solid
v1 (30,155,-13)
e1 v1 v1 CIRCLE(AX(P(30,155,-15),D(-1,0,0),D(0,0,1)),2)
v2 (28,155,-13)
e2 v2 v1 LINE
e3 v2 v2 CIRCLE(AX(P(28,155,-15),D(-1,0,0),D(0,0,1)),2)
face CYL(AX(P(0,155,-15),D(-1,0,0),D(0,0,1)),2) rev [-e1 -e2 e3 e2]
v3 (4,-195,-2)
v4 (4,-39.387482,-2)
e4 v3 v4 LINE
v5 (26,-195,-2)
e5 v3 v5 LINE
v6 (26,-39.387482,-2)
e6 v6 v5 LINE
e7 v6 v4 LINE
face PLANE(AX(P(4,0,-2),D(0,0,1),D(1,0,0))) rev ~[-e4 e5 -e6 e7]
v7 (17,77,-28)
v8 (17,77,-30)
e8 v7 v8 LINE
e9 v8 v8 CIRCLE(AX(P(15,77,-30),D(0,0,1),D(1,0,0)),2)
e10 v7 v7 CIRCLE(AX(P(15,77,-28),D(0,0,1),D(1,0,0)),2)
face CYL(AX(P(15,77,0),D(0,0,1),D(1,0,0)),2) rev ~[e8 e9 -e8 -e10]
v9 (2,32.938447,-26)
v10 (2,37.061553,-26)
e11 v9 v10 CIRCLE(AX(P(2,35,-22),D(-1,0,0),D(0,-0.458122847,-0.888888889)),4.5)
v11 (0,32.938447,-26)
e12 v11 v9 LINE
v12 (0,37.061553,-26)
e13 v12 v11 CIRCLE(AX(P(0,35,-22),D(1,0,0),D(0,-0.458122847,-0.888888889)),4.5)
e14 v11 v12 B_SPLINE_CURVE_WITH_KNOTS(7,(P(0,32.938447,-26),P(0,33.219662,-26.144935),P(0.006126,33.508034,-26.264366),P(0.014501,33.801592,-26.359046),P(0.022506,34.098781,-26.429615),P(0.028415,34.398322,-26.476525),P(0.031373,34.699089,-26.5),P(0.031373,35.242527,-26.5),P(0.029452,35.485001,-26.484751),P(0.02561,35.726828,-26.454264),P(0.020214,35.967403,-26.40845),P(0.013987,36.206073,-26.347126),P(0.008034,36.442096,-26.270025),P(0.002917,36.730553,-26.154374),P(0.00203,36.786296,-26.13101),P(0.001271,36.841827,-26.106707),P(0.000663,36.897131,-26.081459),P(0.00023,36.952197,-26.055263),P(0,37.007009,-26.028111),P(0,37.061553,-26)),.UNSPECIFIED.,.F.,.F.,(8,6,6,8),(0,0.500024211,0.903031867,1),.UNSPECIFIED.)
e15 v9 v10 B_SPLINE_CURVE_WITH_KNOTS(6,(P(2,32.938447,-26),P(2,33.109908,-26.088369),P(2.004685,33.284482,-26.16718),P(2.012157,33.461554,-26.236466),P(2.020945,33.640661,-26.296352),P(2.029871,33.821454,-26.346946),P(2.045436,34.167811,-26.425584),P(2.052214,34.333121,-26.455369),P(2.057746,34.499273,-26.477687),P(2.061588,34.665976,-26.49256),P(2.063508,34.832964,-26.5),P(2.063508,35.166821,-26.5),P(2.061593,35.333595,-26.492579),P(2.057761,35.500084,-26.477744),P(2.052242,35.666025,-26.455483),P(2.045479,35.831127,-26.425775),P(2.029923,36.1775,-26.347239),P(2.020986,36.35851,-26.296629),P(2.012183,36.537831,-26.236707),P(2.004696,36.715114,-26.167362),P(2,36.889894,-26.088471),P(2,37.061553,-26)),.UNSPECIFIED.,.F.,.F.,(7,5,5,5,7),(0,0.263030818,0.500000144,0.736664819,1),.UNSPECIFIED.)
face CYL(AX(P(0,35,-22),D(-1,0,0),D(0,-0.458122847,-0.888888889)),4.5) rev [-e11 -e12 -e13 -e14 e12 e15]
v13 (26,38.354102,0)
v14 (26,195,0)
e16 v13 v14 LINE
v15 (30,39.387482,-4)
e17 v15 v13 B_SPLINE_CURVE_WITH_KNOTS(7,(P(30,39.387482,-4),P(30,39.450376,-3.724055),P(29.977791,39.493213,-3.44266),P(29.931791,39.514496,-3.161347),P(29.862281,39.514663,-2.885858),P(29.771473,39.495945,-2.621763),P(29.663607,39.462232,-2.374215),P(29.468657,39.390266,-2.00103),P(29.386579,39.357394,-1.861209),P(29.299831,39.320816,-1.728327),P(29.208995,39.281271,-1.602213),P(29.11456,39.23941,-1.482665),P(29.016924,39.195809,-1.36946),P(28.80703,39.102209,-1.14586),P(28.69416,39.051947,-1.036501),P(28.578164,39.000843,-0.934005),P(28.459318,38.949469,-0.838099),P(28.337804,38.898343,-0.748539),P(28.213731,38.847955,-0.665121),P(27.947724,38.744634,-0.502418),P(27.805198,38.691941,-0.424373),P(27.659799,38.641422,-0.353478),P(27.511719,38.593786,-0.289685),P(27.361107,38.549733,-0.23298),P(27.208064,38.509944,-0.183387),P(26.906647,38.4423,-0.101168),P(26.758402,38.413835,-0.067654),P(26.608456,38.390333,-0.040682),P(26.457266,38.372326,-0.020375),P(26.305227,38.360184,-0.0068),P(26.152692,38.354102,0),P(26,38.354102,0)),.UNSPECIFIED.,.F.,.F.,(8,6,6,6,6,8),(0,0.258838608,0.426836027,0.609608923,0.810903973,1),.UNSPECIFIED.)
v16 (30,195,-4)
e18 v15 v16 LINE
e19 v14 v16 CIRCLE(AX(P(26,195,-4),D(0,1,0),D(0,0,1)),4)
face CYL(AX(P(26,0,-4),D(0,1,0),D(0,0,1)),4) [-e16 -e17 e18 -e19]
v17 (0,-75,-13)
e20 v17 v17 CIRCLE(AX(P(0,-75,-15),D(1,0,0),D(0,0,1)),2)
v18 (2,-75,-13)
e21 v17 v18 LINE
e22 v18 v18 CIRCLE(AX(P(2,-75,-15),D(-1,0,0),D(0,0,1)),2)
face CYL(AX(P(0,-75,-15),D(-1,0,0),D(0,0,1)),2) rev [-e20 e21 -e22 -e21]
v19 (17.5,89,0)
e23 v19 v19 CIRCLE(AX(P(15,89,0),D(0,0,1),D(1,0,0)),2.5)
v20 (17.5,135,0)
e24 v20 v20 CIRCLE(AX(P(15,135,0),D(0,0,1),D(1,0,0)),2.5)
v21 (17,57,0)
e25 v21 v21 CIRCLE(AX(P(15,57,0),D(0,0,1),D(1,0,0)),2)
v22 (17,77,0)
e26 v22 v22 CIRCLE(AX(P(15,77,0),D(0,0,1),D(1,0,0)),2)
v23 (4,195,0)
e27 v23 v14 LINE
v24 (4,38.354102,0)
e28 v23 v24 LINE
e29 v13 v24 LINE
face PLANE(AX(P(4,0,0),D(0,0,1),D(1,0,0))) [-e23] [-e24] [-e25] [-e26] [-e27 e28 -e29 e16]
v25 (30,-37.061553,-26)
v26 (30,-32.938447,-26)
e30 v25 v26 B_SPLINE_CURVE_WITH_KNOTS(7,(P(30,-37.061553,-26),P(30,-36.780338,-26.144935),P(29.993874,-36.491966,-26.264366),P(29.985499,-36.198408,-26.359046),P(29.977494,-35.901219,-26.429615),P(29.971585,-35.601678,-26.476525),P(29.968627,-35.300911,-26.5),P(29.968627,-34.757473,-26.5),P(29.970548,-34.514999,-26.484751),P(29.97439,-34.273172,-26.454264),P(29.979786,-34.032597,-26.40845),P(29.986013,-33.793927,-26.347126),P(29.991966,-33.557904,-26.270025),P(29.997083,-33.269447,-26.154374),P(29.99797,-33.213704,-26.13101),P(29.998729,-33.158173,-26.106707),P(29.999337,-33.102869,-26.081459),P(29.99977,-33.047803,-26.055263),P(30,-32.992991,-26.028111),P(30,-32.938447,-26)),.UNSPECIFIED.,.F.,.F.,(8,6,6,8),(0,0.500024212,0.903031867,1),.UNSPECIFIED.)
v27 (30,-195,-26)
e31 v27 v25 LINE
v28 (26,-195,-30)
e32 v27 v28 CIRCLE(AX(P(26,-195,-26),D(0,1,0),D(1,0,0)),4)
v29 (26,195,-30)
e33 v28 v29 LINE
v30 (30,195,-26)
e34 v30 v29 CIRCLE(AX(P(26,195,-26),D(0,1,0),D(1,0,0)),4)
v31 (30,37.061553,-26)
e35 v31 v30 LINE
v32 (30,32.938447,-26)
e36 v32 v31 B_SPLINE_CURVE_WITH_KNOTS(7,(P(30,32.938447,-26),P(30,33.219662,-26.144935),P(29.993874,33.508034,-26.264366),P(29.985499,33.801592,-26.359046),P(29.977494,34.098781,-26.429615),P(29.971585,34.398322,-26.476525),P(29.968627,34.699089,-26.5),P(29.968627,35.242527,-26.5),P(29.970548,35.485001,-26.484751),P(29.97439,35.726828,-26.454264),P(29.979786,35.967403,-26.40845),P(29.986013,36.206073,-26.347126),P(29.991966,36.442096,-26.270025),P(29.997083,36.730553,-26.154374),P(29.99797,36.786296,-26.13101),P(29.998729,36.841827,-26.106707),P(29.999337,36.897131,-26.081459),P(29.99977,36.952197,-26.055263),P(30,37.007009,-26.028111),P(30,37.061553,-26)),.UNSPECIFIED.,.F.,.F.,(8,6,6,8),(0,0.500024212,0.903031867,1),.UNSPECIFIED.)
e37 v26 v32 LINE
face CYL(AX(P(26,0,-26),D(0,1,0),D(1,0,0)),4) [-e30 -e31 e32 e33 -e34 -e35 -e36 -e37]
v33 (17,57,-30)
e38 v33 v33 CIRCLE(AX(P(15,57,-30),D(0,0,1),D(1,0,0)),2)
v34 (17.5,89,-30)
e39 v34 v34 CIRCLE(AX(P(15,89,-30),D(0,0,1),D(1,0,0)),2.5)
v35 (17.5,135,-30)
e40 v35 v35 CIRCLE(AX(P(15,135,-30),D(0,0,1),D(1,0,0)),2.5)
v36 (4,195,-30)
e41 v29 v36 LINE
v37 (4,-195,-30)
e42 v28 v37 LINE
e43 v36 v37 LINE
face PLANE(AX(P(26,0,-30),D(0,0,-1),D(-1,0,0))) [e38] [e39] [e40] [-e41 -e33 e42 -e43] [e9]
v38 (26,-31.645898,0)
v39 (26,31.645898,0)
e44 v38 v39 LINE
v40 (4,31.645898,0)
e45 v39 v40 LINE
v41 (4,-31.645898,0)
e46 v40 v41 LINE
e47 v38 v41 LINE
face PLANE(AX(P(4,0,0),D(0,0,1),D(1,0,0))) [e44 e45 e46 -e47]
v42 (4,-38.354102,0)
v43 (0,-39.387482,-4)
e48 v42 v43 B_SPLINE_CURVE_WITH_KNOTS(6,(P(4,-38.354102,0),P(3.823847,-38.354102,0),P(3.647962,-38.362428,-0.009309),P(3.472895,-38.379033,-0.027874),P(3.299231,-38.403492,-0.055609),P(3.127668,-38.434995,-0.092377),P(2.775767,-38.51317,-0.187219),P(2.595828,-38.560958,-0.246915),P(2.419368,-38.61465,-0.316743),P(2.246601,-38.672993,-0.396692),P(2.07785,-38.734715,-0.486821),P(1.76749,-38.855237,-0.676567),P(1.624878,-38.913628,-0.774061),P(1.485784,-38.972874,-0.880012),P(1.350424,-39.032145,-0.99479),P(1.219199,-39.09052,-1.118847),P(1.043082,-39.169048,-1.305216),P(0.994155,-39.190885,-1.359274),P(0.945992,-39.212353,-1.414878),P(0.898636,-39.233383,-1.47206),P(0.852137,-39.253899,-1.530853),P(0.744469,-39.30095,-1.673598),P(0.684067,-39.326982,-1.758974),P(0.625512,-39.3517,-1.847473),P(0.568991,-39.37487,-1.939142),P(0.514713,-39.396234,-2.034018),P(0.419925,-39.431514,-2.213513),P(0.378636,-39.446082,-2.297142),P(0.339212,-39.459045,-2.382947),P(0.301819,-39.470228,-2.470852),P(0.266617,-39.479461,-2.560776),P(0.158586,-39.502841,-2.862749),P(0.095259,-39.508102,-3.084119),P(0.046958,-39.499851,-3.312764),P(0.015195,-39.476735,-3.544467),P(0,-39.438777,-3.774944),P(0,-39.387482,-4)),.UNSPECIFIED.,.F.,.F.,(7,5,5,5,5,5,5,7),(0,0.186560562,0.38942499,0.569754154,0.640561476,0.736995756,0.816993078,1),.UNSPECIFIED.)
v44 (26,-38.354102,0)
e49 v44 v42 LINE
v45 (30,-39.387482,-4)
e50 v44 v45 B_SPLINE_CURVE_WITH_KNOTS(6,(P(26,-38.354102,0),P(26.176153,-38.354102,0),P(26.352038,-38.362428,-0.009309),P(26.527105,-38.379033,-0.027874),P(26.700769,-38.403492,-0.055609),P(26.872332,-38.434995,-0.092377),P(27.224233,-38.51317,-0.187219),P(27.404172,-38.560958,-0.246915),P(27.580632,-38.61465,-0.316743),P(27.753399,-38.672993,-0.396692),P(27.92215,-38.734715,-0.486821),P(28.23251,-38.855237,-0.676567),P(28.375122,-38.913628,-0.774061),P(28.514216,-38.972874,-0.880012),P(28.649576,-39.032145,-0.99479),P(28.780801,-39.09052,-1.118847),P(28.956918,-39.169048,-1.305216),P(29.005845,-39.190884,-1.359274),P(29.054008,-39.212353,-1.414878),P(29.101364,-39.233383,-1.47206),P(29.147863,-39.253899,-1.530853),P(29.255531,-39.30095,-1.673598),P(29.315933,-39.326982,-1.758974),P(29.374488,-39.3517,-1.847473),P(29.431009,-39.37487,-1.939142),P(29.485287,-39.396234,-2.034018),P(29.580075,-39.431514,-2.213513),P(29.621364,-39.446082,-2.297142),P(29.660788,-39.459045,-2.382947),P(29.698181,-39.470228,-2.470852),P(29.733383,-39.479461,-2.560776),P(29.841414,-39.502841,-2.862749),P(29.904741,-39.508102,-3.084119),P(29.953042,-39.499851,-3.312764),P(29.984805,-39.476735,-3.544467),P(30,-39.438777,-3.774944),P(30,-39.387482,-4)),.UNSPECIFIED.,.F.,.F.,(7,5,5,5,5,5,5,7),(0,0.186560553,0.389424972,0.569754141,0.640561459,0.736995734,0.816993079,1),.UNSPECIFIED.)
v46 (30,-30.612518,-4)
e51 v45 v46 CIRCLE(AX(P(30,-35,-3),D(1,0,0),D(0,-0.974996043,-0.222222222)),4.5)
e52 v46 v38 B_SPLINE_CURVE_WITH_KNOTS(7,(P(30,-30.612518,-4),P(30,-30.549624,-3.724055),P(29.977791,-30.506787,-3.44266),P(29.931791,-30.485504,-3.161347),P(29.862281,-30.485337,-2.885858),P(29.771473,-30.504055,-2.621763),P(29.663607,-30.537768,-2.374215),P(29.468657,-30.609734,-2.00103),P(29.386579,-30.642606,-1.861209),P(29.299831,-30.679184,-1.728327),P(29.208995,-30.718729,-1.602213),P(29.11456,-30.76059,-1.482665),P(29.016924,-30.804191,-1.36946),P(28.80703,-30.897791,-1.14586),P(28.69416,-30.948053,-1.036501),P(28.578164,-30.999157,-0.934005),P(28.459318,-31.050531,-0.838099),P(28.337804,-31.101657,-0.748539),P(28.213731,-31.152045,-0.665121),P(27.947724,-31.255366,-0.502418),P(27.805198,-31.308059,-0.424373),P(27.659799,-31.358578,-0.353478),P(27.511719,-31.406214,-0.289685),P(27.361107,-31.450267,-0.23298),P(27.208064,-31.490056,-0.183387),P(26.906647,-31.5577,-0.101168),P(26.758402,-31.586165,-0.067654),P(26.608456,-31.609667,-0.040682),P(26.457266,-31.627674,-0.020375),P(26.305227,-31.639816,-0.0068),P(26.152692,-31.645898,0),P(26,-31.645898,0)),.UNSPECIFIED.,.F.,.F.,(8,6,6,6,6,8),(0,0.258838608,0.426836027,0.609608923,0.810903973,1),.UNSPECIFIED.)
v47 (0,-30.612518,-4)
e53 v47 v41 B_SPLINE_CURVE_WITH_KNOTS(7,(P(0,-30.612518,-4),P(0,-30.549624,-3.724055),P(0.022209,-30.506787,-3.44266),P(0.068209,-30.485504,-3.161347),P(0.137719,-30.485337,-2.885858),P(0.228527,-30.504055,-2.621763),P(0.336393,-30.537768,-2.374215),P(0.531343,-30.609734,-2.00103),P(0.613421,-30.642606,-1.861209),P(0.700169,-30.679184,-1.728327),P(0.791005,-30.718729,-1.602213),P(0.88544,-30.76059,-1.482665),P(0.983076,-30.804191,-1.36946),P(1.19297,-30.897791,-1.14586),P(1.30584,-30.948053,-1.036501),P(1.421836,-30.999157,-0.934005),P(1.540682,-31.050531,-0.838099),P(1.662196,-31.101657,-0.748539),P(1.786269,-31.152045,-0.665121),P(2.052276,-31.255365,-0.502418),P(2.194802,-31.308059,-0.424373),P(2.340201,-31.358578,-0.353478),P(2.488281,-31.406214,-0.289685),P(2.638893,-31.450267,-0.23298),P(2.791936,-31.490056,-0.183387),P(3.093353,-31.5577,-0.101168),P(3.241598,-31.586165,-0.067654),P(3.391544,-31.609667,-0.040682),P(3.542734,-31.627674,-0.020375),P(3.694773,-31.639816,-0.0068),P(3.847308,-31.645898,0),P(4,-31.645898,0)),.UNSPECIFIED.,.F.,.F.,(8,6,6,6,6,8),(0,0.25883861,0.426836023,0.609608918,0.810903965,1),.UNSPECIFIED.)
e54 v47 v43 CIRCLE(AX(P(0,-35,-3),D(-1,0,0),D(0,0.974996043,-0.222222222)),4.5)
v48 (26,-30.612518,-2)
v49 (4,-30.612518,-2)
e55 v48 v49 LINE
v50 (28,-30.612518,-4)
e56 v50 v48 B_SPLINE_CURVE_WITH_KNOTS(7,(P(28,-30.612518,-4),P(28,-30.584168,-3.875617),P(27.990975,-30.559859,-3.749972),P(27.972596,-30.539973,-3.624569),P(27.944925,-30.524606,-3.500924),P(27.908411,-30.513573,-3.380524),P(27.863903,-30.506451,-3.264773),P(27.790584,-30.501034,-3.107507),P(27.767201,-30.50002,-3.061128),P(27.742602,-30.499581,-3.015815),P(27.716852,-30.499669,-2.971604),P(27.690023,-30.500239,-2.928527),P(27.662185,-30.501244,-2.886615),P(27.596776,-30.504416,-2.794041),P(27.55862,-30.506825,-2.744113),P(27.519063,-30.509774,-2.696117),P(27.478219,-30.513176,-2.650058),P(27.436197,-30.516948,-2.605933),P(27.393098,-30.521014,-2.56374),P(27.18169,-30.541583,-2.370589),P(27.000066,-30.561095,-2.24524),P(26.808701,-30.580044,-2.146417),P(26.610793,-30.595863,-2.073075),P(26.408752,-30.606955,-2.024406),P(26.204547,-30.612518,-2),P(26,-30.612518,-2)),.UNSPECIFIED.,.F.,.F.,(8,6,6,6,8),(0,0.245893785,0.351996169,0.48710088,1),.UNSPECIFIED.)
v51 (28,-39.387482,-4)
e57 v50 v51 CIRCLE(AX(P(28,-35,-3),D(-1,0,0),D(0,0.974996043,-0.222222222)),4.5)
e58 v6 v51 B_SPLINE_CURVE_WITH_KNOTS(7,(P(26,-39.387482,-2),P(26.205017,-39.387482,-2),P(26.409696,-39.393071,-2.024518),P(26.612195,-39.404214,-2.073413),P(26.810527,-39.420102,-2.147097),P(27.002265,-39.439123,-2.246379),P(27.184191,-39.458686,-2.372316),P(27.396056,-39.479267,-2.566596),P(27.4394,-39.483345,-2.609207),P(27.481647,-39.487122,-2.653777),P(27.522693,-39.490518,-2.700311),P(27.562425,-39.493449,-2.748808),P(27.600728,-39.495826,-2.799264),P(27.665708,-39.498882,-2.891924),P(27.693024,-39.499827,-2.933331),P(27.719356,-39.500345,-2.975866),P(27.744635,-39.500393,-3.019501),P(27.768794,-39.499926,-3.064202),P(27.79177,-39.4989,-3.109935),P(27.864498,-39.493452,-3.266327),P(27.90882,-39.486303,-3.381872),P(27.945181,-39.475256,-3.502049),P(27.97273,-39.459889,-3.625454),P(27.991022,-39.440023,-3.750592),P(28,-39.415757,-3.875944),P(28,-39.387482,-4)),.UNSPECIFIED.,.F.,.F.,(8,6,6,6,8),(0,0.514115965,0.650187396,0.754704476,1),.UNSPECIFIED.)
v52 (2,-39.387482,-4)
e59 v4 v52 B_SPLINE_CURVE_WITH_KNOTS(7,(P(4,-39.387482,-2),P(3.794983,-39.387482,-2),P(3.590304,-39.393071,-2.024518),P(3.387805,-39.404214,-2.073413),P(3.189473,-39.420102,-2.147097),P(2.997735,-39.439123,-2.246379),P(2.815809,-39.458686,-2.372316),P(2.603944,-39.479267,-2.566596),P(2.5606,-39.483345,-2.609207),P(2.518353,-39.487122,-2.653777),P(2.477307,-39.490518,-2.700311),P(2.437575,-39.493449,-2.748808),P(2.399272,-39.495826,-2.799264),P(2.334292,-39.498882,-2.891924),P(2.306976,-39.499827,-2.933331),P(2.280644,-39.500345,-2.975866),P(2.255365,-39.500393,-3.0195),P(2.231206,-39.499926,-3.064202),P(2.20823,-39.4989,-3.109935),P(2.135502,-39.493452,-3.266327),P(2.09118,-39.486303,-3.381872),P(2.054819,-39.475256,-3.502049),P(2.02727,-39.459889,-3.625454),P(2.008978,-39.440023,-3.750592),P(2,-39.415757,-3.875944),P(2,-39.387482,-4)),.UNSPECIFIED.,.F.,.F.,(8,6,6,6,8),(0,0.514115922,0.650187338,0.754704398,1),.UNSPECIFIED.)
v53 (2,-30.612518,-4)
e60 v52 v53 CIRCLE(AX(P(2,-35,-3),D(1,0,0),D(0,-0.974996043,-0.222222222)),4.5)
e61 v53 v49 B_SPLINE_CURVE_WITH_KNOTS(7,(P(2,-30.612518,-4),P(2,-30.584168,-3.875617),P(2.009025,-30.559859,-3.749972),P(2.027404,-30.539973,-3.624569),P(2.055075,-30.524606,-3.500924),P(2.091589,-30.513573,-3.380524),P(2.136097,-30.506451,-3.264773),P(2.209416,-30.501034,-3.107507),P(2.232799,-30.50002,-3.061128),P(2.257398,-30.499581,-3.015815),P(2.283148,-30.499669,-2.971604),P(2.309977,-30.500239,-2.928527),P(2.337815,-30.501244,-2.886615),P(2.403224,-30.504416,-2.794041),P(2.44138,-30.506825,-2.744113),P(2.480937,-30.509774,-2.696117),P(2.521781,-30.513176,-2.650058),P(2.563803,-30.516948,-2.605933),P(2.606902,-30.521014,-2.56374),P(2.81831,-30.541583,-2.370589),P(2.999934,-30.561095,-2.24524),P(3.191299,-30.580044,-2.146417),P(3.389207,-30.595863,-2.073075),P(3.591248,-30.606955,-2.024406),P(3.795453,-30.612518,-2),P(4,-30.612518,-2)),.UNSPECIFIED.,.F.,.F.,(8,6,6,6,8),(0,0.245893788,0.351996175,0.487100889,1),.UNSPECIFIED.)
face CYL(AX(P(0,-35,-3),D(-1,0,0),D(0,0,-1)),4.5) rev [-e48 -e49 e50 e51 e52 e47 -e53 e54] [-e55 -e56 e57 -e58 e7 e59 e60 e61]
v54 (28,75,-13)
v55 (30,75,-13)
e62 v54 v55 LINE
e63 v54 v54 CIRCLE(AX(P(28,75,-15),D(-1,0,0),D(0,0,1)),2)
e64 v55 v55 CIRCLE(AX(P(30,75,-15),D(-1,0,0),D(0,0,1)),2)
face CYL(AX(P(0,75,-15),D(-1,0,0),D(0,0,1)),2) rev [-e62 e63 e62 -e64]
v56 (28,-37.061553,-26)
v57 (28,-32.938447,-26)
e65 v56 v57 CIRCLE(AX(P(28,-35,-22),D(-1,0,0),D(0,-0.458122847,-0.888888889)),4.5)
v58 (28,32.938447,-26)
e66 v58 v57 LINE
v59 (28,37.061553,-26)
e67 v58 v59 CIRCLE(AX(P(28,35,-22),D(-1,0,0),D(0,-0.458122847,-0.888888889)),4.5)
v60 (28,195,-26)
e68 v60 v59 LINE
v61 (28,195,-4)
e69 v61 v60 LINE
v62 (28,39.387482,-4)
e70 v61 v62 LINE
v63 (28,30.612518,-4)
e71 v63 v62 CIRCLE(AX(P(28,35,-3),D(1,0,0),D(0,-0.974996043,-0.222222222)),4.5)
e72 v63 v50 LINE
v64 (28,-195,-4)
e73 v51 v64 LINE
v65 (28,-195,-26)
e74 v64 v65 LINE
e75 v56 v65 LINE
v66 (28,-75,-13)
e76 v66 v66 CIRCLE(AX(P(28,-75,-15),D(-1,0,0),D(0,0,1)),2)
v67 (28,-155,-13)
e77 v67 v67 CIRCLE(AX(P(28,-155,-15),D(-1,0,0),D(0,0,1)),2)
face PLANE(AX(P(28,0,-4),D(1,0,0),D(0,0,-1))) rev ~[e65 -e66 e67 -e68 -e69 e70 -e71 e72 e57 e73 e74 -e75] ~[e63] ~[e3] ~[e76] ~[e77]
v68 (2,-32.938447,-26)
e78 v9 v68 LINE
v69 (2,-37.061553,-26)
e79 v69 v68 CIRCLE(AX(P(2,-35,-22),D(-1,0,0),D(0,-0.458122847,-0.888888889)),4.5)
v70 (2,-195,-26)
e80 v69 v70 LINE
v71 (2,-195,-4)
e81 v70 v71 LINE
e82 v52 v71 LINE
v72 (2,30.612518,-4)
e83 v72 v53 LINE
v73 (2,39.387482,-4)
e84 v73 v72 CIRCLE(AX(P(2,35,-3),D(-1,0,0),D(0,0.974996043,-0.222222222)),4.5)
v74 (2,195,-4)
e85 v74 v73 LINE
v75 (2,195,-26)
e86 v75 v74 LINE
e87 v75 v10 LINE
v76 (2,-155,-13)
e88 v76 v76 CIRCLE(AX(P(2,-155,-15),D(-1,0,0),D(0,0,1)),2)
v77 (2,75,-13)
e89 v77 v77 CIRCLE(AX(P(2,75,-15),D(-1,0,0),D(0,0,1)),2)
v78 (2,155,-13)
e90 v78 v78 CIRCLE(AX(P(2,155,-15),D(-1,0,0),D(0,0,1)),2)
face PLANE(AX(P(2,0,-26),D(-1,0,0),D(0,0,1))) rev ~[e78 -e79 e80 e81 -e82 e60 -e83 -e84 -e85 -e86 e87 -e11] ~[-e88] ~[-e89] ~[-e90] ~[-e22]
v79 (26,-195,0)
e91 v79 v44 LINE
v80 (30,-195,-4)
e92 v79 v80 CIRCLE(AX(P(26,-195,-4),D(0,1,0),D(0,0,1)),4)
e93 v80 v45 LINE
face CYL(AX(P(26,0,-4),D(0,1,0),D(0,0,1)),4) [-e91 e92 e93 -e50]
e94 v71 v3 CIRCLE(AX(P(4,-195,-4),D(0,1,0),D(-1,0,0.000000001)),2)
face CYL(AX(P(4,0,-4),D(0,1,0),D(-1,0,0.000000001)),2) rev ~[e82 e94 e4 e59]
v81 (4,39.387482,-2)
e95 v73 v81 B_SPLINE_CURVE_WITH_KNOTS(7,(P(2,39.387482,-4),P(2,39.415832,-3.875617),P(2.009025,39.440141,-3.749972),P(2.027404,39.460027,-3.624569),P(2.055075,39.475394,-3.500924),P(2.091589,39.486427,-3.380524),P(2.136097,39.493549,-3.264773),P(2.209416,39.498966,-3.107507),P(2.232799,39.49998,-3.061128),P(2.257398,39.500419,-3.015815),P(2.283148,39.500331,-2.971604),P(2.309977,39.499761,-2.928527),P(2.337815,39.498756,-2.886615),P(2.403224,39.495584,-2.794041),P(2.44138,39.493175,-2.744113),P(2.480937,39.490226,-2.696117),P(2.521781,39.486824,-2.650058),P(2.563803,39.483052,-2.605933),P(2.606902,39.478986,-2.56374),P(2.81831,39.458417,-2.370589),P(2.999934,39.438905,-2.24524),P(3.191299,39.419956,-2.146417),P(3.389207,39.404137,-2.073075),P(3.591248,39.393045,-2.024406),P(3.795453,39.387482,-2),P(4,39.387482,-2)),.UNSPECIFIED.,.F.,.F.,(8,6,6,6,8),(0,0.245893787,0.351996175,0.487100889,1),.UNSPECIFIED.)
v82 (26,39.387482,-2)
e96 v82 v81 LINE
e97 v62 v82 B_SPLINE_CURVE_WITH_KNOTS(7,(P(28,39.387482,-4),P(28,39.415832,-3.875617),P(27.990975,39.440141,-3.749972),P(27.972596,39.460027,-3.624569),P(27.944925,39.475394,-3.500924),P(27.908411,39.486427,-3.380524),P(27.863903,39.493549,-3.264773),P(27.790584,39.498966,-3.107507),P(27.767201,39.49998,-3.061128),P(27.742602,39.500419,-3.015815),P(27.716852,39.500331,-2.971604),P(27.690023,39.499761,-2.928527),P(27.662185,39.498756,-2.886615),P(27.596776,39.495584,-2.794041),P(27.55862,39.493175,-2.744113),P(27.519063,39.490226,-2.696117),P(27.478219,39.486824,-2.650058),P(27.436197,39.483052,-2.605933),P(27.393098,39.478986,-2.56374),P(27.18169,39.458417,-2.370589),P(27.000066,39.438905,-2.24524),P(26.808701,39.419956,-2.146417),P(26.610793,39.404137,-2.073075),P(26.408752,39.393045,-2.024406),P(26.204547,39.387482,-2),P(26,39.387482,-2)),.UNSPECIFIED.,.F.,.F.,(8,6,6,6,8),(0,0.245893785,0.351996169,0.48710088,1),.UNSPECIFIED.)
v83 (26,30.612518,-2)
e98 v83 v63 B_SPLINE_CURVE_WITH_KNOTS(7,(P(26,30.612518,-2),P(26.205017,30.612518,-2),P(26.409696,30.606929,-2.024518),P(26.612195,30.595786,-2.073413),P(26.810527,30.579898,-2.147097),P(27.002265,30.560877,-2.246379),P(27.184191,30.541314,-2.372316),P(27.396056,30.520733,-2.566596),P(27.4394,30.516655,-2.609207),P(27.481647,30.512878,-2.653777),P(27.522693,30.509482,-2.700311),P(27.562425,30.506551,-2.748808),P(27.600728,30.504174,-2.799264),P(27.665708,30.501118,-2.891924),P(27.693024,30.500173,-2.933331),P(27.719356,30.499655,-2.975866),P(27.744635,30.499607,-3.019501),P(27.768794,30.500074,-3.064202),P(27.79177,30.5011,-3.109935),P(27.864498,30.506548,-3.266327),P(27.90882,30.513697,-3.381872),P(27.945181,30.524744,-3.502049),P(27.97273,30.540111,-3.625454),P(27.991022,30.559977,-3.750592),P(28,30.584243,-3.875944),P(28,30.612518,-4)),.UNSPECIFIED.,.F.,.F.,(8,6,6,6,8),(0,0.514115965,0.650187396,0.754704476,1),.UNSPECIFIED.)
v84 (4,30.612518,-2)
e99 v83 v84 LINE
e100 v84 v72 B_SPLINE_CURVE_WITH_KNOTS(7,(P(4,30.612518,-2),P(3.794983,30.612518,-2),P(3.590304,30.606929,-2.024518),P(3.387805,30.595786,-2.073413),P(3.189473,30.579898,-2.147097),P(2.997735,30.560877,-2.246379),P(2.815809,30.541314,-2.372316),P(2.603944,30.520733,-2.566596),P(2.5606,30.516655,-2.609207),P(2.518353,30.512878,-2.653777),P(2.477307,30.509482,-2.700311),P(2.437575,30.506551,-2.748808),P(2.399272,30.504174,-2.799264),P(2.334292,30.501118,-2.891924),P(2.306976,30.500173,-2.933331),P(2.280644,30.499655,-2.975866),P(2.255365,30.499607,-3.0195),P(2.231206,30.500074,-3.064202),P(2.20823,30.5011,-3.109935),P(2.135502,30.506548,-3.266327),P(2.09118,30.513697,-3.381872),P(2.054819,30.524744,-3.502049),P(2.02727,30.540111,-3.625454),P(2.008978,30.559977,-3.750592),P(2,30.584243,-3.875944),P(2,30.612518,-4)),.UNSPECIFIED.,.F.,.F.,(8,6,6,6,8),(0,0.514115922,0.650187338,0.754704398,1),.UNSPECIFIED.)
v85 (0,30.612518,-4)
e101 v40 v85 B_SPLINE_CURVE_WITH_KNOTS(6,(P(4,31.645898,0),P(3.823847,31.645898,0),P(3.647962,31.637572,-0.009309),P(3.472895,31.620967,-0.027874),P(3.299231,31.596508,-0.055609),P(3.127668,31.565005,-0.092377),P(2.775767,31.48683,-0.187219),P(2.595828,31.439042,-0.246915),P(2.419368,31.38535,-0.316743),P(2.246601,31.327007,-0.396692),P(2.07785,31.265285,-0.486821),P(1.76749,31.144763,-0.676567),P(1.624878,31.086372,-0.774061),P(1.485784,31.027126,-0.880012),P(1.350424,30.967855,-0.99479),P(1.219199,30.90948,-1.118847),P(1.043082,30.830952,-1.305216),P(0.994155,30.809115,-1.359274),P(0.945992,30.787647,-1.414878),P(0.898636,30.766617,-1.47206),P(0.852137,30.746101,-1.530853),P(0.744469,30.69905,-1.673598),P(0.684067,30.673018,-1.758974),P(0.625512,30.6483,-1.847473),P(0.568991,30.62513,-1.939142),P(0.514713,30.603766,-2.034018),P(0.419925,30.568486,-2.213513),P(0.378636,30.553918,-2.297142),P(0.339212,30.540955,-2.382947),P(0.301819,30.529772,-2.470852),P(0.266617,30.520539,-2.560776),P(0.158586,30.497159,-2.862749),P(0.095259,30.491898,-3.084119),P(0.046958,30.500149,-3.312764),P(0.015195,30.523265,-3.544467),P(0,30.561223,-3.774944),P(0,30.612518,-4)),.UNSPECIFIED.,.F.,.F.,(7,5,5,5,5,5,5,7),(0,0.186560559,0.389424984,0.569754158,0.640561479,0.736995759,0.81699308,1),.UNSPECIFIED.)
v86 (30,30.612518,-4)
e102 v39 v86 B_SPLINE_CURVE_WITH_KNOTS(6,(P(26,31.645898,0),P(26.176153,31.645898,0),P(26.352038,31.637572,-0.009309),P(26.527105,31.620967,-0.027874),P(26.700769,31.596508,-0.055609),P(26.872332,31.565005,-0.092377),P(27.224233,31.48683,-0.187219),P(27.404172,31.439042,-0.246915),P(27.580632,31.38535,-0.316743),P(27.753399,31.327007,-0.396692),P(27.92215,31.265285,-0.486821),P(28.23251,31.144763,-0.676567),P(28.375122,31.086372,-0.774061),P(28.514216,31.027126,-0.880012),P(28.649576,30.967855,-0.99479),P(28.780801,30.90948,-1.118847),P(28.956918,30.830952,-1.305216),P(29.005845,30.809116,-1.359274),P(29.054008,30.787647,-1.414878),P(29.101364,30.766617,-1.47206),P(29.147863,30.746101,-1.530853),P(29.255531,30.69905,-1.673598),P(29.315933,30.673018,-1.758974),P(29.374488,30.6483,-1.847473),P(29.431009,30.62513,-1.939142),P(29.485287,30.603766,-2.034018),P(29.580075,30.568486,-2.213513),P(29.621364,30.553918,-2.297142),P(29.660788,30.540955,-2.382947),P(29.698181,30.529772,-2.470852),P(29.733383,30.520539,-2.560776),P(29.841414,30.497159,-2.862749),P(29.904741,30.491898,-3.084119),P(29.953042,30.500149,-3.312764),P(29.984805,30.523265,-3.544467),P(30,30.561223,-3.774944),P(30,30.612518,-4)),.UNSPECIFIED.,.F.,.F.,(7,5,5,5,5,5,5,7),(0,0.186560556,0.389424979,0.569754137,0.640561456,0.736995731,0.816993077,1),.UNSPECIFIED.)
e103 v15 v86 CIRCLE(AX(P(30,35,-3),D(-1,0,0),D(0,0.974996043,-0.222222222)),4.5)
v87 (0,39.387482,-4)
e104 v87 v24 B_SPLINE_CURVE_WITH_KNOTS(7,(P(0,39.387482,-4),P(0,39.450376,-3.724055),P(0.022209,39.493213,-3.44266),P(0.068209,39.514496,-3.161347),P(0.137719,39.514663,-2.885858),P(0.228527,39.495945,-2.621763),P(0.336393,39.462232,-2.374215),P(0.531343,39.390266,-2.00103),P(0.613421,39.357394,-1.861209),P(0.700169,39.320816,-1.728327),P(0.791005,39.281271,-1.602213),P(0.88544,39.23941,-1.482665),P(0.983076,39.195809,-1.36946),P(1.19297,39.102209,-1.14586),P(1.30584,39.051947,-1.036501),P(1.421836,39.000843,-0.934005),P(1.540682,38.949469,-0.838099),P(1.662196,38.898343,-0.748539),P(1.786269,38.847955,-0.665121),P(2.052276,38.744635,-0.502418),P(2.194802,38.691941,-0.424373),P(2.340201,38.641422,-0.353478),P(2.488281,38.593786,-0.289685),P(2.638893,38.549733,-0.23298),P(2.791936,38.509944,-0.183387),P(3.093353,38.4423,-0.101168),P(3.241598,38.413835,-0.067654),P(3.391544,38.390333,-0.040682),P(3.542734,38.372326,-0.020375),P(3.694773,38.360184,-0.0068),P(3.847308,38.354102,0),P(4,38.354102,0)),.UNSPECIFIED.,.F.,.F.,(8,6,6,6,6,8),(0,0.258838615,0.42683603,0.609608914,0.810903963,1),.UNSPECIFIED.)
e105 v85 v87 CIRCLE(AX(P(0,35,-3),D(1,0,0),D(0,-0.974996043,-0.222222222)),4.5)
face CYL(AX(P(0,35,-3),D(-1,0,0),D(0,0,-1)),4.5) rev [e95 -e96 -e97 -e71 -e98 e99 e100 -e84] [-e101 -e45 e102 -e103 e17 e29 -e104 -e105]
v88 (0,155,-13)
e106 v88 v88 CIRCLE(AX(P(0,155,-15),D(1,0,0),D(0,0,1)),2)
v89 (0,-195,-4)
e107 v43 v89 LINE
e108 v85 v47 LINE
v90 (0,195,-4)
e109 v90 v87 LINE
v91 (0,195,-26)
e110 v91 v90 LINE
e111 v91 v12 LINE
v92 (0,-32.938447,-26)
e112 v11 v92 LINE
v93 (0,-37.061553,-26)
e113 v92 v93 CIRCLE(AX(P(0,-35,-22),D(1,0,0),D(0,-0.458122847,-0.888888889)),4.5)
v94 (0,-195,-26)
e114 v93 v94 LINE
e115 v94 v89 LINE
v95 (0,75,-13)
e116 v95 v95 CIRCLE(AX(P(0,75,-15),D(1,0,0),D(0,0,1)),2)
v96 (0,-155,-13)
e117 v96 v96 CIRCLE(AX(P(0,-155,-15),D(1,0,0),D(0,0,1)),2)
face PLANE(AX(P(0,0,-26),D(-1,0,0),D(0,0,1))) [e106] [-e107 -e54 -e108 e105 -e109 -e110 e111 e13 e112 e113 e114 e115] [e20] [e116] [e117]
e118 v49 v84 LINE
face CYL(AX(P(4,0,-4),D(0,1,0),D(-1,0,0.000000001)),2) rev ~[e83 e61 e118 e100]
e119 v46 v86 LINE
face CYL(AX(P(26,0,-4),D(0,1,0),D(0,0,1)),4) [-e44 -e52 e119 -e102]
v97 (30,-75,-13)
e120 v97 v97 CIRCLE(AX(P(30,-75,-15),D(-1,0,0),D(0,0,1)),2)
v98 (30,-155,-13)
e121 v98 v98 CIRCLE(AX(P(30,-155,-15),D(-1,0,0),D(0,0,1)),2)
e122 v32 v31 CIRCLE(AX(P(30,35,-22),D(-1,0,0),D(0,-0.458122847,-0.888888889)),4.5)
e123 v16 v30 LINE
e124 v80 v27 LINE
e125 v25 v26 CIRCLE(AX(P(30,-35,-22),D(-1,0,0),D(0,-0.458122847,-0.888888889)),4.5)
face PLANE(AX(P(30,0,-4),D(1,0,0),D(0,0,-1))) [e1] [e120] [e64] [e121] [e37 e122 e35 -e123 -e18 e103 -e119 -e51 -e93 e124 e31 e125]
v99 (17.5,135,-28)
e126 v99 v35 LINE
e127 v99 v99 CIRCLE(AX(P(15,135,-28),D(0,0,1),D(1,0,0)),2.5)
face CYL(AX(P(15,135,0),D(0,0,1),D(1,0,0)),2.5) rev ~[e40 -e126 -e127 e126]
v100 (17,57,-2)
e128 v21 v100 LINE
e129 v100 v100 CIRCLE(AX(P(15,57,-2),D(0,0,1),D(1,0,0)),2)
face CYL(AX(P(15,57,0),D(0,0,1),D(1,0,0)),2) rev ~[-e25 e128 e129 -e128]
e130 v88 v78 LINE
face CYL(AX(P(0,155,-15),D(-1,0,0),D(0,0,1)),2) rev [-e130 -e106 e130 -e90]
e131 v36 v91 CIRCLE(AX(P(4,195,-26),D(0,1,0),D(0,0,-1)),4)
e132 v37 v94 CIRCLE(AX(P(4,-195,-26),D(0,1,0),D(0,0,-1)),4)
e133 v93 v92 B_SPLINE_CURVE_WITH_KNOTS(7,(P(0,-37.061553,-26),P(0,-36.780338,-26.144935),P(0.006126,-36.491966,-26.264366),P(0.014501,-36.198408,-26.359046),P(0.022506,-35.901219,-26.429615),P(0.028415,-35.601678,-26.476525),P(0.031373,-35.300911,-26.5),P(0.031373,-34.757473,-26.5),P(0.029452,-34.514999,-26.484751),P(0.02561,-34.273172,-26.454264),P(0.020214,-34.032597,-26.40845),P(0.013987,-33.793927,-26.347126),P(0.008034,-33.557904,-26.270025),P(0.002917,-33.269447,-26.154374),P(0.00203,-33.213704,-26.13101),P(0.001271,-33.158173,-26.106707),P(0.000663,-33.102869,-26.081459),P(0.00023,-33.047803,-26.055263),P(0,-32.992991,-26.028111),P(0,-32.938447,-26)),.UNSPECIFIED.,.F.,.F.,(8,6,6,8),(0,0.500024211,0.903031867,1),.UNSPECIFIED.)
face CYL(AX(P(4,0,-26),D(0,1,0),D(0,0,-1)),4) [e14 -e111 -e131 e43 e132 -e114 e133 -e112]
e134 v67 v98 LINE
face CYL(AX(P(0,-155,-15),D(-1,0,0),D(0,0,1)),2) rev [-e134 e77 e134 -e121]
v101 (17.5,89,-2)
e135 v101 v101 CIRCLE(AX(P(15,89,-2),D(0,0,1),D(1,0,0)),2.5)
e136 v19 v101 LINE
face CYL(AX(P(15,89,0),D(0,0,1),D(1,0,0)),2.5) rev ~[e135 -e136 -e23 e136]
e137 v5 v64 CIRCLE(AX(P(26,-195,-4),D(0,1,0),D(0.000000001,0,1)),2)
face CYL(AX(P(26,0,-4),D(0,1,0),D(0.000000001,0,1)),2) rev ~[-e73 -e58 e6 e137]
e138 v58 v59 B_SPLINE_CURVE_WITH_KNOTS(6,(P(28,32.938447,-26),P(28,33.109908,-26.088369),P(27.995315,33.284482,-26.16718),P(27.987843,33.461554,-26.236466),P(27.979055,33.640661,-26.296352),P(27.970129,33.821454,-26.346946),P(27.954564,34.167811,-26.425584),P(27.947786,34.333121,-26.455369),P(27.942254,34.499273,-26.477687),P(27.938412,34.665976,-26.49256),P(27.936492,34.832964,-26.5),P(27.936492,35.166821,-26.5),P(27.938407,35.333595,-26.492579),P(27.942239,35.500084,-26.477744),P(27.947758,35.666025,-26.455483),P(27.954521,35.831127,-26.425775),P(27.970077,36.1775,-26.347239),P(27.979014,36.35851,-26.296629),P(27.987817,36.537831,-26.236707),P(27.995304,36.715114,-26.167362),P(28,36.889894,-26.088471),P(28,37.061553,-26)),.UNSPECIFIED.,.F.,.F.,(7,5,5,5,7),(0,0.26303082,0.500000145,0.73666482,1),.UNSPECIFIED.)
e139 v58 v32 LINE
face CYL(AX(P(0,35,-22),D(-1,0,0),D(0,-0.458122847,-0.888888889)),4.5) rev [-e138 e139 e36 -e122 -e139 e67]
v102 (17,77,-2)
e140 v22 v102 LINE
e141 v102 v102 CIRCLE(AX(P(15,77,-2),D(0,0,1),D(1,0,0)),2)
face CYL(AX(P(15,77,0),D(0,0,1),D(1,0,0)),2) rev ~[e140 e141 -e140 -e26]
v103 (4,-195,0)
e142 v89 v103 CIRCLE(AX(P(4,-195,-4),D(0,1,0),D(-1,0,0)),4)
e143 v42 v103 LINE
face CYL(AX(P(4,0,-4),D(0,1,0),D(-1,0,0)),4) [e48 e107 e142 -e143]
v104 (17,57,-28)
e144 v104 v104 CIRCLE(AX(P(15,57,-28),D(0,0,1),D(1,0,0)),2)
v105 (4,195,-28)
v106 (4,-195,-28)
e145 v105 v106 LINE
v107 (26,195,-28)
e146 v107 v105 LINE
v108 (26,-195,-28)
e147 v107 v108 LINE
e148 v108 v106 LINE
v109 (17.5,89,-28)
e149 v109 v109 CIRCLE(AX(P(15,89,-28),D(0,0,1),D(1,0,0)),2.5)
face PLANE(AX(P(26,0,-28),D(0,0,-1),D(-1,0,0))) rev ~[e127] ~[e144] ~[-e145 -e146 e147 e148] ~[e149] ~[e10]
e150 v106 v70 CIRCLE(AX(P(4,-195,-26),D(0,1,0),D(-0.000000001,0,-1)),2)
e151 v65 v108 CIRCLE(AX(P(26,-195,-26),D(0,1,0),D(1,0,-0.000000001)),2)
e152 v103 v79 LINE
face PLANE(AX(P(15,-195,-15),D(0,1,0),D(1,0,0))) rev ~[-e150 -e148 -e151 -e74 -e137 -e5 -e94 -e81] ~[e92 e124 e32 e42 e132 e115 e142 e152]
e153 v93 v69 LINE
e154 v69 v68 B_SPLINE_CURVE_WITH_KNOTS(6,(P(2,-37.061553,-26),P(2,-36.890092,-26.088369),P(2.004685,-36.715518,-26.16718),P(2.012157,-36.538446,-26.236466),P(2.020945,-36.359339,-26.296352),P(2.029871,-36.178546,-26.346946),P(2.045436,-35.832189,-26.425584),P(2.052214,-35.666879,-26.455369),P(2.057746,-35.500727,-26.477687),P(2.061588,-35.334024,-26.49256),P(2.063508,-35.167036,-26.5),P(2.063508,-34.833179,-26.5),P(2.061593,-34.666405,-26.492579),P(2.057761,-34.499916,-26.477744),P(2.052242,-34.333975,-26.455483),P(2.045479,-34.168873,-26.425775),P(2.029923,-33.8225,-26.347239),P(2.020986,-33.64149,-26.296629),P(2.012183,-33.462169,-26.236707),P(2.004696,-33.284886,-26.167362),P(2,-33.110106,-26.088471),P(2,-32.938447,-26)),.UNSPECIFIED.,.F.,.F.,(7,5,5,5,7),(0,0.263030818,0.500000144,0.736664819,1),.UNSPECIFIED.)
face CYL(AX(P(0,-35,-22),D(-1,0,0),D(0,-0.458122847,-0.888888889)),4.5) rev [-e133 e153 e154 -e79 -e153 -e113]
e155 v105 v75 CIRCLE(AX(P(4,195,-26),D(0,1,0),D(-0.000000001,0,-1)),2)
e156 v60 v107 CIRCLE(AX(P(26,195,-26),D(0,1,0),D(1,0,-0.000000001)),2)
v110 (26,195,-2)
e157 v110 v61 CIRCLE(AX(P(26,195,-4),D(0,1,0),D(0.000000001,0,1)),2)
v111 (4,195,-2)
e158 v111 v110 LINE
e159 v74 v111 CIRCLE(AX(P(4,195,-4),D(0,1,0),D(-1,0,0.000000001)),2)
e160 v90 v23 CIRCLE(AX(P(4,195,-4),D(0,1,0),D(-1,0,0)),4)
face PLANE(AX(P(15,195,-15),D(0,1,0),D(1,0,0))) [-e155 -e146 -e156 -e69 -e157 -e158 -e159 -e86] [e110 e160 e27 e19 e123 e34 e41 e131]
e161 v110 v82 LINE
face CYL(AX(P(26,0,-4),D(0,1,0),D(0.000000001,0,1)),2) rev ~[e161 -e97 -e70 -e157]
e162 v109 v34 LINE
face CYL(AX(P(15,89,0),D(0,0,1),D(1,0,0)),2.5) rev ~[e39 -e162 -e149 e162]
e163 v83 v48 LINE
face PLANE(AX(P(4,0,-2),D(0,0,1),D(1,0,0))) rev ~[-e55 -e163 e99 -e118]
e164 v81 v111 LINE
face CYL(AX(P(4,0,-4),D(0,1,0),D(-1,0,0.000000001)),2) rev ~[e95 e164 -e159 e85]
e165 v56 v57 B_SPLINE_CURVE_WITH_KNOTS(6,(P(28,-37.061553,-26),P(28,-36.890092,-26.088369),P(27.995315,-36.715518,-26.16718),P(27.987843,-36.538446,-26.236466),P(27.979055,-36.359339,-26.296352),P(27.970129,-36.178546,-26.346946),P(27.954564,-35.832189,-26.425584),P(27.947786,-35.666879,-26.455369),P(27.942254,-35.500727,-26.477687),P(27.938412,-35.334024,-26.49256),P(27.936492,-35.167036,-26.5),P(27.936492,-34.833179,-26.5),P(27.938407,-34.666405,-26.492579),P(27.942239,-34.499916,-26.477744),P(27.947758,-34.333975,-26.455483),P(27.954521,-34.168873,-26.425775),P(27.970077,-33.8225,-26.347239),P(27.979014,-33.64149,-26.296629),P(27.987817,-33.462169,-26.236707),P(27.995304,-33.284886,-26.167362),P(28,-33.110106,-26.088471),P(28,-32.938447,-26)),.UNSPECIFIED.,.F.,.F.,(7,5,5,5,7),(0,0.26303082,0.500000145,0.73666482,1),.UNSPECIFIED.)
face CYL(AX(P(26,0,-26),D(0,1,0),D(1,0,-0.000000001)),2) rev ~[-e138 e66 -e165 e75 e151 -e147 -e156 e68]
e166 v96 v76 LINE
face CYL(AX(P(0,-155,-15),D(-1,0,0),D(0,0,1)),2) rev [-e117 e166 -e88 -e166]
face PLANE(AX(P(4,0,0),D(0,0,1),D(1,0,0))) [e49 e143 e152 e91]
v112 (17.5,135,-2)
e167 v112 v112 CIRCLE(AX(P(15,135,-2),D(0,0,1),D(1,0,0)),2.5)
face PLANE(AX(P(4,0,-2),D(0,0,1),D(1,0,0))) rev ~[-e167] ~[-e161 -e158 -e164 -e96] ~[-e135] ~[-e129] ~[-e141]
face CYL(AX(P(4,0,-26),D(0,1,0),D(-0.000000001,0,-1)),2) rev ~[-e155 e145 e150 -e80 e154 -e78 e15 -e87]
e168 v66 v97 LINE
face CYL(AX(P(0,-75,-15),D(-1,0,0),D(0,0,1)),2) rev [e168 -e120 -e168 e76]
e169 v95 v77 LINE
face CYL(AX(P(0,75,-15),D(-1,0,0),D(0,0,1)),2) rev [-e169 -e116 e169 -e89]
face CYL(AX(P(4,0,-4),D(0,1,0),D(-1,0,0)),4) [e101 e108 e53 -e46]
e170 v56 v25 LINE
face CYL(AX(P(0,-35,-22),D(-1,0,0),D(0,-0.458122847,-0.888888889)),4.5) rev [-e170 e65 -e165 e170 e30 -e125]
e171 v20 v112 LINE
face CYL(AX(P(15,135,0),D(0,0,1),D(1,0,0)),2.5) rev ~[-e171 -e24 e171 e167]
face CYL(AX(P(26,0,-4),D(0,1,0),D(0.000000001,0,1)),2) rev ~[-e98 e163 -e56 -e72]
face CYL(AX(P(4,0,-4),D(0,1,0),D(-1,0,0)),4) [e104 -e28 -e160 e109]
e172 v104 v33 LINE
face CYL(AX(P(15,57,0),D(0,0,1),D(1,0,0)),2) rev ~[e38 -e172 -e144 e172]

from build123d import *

# Parameters (mm, degrees)
EXTRUDE_1_DEPTH     = 195
SKETCH_2_R          = 4.5
SKETCH_2_R_2        = 2
CUT_EXTRUDE_1_DEPTH = 200.562020435
SKETCH_3_R          = 2.5
SKETCH_3_R_2        = 2
CUT_EXTRUDE_2_DEPTH = 200.562020563


with BuildPart() as part:
    # 草图1 → 凸台-拉伸1 (new, symmetric)
    with BuildSketch(Plane(origin=(0, 0, 0), x_dir=(1, 0, 0), z_dir=(0, 1, 0))):
        with BuildLine():
            Line((4, 0), (26, 0))
            ThreePointArc((26, 0), (28.828427125, 1.171572875), (30, 4))
            Line((30, 4), (30, 26))
            ThreePointArc((30, 26), (28.828427125, 28.828427125), (26, 30))
            Line((26, 30), (4, 30))
            ThreePointArc((4, 30), (1.171572875, 28.828427125), (0, 26))
            Line((0, 26), (0, 4))
            ThreePointArc((0, 4), (1.171572875, 1.171572875), (4, 0))
        make_face()
        with BuildLine():
            Line((4, 2), (26, 2))
            ThreePointArc((26, 2), (27.414213562, 2.585786438), (28, 4))
            Line((28, 4), (28, 26))
            ThreePointArc((28, 26), (27.414213562, 27.414213562), (26, 28))
            Line((26, 28), (4, 28))
            ThreePointArc((4, 28), (2.585786438, 27.414213562), (2, 26))
            Line((2, 26), (2, 4))
            ThreePointArc((2, 4), (2.585786438, 2.585786438), (4, 2))
        make_face(mode=Mode.SUBTRACT)
    extrude(amount=EXTRUDE_1_DEPTH, both=True)

    # 草图2 → 切除-拉伸1 (cut, through all)
    with BuildSketch(Plane(origin=(0, 0, 0), x_dir=(0, 0, -1), z_dir=(1, 0, 0))):
        with Locations((3, -35)):
            Circle(SKETCH_2_R)
        with Locations(Location((22, -35, 0), (0, 0, 332.733955549))):
            Circle(SKETCH_2_R)
        with Locations(Location((22, 35, 0), (0, 0, 332.733955549))):
            Circle(SKETCH_2_R)
        with Locations((3, 35)):
            Circle(SKETCH_2_R)
        with Locations(Location((15, -155, 0), (0, 0, 180))):
            Circle(SKETCH_2_R_2)
        with Locations(Location((15, -75, 0), (0, 0, 180))):
            Circle(SKETCH_2_R_2)
        with Locations(Location((15, 75, 0), (0, 0, 180))):
            Circle(SKETCH_2_R_2)
        with Locations(Location((15, 155, 0), (0, 0, 180))):
            Circle(SKETCH_2_R_2)
    extrude(amount=CUT_EXTRUDE_1_DEPTH, mode=Mode.SUBTRACT)

    # 草图3 → 切除-拉伸2 (cut, through all)
    with BuildSketch(Plane.XY):
        with Locations((15, 89)):
            Circle(SKETCH_3_R)
        with Locations((15, 135)):
            Circle(SKETCH_3_R)
        with Locations((15, 77)):
            Circle(SKETCH_3_R_2)
        with Locations((15, 57)):
            Circle(SKETCH_3_R_2)
    extrude(amount=-CUT_EXTRUDE_2_DEPTH, mode=Mode.SUBTRACT)


solid = part.part
